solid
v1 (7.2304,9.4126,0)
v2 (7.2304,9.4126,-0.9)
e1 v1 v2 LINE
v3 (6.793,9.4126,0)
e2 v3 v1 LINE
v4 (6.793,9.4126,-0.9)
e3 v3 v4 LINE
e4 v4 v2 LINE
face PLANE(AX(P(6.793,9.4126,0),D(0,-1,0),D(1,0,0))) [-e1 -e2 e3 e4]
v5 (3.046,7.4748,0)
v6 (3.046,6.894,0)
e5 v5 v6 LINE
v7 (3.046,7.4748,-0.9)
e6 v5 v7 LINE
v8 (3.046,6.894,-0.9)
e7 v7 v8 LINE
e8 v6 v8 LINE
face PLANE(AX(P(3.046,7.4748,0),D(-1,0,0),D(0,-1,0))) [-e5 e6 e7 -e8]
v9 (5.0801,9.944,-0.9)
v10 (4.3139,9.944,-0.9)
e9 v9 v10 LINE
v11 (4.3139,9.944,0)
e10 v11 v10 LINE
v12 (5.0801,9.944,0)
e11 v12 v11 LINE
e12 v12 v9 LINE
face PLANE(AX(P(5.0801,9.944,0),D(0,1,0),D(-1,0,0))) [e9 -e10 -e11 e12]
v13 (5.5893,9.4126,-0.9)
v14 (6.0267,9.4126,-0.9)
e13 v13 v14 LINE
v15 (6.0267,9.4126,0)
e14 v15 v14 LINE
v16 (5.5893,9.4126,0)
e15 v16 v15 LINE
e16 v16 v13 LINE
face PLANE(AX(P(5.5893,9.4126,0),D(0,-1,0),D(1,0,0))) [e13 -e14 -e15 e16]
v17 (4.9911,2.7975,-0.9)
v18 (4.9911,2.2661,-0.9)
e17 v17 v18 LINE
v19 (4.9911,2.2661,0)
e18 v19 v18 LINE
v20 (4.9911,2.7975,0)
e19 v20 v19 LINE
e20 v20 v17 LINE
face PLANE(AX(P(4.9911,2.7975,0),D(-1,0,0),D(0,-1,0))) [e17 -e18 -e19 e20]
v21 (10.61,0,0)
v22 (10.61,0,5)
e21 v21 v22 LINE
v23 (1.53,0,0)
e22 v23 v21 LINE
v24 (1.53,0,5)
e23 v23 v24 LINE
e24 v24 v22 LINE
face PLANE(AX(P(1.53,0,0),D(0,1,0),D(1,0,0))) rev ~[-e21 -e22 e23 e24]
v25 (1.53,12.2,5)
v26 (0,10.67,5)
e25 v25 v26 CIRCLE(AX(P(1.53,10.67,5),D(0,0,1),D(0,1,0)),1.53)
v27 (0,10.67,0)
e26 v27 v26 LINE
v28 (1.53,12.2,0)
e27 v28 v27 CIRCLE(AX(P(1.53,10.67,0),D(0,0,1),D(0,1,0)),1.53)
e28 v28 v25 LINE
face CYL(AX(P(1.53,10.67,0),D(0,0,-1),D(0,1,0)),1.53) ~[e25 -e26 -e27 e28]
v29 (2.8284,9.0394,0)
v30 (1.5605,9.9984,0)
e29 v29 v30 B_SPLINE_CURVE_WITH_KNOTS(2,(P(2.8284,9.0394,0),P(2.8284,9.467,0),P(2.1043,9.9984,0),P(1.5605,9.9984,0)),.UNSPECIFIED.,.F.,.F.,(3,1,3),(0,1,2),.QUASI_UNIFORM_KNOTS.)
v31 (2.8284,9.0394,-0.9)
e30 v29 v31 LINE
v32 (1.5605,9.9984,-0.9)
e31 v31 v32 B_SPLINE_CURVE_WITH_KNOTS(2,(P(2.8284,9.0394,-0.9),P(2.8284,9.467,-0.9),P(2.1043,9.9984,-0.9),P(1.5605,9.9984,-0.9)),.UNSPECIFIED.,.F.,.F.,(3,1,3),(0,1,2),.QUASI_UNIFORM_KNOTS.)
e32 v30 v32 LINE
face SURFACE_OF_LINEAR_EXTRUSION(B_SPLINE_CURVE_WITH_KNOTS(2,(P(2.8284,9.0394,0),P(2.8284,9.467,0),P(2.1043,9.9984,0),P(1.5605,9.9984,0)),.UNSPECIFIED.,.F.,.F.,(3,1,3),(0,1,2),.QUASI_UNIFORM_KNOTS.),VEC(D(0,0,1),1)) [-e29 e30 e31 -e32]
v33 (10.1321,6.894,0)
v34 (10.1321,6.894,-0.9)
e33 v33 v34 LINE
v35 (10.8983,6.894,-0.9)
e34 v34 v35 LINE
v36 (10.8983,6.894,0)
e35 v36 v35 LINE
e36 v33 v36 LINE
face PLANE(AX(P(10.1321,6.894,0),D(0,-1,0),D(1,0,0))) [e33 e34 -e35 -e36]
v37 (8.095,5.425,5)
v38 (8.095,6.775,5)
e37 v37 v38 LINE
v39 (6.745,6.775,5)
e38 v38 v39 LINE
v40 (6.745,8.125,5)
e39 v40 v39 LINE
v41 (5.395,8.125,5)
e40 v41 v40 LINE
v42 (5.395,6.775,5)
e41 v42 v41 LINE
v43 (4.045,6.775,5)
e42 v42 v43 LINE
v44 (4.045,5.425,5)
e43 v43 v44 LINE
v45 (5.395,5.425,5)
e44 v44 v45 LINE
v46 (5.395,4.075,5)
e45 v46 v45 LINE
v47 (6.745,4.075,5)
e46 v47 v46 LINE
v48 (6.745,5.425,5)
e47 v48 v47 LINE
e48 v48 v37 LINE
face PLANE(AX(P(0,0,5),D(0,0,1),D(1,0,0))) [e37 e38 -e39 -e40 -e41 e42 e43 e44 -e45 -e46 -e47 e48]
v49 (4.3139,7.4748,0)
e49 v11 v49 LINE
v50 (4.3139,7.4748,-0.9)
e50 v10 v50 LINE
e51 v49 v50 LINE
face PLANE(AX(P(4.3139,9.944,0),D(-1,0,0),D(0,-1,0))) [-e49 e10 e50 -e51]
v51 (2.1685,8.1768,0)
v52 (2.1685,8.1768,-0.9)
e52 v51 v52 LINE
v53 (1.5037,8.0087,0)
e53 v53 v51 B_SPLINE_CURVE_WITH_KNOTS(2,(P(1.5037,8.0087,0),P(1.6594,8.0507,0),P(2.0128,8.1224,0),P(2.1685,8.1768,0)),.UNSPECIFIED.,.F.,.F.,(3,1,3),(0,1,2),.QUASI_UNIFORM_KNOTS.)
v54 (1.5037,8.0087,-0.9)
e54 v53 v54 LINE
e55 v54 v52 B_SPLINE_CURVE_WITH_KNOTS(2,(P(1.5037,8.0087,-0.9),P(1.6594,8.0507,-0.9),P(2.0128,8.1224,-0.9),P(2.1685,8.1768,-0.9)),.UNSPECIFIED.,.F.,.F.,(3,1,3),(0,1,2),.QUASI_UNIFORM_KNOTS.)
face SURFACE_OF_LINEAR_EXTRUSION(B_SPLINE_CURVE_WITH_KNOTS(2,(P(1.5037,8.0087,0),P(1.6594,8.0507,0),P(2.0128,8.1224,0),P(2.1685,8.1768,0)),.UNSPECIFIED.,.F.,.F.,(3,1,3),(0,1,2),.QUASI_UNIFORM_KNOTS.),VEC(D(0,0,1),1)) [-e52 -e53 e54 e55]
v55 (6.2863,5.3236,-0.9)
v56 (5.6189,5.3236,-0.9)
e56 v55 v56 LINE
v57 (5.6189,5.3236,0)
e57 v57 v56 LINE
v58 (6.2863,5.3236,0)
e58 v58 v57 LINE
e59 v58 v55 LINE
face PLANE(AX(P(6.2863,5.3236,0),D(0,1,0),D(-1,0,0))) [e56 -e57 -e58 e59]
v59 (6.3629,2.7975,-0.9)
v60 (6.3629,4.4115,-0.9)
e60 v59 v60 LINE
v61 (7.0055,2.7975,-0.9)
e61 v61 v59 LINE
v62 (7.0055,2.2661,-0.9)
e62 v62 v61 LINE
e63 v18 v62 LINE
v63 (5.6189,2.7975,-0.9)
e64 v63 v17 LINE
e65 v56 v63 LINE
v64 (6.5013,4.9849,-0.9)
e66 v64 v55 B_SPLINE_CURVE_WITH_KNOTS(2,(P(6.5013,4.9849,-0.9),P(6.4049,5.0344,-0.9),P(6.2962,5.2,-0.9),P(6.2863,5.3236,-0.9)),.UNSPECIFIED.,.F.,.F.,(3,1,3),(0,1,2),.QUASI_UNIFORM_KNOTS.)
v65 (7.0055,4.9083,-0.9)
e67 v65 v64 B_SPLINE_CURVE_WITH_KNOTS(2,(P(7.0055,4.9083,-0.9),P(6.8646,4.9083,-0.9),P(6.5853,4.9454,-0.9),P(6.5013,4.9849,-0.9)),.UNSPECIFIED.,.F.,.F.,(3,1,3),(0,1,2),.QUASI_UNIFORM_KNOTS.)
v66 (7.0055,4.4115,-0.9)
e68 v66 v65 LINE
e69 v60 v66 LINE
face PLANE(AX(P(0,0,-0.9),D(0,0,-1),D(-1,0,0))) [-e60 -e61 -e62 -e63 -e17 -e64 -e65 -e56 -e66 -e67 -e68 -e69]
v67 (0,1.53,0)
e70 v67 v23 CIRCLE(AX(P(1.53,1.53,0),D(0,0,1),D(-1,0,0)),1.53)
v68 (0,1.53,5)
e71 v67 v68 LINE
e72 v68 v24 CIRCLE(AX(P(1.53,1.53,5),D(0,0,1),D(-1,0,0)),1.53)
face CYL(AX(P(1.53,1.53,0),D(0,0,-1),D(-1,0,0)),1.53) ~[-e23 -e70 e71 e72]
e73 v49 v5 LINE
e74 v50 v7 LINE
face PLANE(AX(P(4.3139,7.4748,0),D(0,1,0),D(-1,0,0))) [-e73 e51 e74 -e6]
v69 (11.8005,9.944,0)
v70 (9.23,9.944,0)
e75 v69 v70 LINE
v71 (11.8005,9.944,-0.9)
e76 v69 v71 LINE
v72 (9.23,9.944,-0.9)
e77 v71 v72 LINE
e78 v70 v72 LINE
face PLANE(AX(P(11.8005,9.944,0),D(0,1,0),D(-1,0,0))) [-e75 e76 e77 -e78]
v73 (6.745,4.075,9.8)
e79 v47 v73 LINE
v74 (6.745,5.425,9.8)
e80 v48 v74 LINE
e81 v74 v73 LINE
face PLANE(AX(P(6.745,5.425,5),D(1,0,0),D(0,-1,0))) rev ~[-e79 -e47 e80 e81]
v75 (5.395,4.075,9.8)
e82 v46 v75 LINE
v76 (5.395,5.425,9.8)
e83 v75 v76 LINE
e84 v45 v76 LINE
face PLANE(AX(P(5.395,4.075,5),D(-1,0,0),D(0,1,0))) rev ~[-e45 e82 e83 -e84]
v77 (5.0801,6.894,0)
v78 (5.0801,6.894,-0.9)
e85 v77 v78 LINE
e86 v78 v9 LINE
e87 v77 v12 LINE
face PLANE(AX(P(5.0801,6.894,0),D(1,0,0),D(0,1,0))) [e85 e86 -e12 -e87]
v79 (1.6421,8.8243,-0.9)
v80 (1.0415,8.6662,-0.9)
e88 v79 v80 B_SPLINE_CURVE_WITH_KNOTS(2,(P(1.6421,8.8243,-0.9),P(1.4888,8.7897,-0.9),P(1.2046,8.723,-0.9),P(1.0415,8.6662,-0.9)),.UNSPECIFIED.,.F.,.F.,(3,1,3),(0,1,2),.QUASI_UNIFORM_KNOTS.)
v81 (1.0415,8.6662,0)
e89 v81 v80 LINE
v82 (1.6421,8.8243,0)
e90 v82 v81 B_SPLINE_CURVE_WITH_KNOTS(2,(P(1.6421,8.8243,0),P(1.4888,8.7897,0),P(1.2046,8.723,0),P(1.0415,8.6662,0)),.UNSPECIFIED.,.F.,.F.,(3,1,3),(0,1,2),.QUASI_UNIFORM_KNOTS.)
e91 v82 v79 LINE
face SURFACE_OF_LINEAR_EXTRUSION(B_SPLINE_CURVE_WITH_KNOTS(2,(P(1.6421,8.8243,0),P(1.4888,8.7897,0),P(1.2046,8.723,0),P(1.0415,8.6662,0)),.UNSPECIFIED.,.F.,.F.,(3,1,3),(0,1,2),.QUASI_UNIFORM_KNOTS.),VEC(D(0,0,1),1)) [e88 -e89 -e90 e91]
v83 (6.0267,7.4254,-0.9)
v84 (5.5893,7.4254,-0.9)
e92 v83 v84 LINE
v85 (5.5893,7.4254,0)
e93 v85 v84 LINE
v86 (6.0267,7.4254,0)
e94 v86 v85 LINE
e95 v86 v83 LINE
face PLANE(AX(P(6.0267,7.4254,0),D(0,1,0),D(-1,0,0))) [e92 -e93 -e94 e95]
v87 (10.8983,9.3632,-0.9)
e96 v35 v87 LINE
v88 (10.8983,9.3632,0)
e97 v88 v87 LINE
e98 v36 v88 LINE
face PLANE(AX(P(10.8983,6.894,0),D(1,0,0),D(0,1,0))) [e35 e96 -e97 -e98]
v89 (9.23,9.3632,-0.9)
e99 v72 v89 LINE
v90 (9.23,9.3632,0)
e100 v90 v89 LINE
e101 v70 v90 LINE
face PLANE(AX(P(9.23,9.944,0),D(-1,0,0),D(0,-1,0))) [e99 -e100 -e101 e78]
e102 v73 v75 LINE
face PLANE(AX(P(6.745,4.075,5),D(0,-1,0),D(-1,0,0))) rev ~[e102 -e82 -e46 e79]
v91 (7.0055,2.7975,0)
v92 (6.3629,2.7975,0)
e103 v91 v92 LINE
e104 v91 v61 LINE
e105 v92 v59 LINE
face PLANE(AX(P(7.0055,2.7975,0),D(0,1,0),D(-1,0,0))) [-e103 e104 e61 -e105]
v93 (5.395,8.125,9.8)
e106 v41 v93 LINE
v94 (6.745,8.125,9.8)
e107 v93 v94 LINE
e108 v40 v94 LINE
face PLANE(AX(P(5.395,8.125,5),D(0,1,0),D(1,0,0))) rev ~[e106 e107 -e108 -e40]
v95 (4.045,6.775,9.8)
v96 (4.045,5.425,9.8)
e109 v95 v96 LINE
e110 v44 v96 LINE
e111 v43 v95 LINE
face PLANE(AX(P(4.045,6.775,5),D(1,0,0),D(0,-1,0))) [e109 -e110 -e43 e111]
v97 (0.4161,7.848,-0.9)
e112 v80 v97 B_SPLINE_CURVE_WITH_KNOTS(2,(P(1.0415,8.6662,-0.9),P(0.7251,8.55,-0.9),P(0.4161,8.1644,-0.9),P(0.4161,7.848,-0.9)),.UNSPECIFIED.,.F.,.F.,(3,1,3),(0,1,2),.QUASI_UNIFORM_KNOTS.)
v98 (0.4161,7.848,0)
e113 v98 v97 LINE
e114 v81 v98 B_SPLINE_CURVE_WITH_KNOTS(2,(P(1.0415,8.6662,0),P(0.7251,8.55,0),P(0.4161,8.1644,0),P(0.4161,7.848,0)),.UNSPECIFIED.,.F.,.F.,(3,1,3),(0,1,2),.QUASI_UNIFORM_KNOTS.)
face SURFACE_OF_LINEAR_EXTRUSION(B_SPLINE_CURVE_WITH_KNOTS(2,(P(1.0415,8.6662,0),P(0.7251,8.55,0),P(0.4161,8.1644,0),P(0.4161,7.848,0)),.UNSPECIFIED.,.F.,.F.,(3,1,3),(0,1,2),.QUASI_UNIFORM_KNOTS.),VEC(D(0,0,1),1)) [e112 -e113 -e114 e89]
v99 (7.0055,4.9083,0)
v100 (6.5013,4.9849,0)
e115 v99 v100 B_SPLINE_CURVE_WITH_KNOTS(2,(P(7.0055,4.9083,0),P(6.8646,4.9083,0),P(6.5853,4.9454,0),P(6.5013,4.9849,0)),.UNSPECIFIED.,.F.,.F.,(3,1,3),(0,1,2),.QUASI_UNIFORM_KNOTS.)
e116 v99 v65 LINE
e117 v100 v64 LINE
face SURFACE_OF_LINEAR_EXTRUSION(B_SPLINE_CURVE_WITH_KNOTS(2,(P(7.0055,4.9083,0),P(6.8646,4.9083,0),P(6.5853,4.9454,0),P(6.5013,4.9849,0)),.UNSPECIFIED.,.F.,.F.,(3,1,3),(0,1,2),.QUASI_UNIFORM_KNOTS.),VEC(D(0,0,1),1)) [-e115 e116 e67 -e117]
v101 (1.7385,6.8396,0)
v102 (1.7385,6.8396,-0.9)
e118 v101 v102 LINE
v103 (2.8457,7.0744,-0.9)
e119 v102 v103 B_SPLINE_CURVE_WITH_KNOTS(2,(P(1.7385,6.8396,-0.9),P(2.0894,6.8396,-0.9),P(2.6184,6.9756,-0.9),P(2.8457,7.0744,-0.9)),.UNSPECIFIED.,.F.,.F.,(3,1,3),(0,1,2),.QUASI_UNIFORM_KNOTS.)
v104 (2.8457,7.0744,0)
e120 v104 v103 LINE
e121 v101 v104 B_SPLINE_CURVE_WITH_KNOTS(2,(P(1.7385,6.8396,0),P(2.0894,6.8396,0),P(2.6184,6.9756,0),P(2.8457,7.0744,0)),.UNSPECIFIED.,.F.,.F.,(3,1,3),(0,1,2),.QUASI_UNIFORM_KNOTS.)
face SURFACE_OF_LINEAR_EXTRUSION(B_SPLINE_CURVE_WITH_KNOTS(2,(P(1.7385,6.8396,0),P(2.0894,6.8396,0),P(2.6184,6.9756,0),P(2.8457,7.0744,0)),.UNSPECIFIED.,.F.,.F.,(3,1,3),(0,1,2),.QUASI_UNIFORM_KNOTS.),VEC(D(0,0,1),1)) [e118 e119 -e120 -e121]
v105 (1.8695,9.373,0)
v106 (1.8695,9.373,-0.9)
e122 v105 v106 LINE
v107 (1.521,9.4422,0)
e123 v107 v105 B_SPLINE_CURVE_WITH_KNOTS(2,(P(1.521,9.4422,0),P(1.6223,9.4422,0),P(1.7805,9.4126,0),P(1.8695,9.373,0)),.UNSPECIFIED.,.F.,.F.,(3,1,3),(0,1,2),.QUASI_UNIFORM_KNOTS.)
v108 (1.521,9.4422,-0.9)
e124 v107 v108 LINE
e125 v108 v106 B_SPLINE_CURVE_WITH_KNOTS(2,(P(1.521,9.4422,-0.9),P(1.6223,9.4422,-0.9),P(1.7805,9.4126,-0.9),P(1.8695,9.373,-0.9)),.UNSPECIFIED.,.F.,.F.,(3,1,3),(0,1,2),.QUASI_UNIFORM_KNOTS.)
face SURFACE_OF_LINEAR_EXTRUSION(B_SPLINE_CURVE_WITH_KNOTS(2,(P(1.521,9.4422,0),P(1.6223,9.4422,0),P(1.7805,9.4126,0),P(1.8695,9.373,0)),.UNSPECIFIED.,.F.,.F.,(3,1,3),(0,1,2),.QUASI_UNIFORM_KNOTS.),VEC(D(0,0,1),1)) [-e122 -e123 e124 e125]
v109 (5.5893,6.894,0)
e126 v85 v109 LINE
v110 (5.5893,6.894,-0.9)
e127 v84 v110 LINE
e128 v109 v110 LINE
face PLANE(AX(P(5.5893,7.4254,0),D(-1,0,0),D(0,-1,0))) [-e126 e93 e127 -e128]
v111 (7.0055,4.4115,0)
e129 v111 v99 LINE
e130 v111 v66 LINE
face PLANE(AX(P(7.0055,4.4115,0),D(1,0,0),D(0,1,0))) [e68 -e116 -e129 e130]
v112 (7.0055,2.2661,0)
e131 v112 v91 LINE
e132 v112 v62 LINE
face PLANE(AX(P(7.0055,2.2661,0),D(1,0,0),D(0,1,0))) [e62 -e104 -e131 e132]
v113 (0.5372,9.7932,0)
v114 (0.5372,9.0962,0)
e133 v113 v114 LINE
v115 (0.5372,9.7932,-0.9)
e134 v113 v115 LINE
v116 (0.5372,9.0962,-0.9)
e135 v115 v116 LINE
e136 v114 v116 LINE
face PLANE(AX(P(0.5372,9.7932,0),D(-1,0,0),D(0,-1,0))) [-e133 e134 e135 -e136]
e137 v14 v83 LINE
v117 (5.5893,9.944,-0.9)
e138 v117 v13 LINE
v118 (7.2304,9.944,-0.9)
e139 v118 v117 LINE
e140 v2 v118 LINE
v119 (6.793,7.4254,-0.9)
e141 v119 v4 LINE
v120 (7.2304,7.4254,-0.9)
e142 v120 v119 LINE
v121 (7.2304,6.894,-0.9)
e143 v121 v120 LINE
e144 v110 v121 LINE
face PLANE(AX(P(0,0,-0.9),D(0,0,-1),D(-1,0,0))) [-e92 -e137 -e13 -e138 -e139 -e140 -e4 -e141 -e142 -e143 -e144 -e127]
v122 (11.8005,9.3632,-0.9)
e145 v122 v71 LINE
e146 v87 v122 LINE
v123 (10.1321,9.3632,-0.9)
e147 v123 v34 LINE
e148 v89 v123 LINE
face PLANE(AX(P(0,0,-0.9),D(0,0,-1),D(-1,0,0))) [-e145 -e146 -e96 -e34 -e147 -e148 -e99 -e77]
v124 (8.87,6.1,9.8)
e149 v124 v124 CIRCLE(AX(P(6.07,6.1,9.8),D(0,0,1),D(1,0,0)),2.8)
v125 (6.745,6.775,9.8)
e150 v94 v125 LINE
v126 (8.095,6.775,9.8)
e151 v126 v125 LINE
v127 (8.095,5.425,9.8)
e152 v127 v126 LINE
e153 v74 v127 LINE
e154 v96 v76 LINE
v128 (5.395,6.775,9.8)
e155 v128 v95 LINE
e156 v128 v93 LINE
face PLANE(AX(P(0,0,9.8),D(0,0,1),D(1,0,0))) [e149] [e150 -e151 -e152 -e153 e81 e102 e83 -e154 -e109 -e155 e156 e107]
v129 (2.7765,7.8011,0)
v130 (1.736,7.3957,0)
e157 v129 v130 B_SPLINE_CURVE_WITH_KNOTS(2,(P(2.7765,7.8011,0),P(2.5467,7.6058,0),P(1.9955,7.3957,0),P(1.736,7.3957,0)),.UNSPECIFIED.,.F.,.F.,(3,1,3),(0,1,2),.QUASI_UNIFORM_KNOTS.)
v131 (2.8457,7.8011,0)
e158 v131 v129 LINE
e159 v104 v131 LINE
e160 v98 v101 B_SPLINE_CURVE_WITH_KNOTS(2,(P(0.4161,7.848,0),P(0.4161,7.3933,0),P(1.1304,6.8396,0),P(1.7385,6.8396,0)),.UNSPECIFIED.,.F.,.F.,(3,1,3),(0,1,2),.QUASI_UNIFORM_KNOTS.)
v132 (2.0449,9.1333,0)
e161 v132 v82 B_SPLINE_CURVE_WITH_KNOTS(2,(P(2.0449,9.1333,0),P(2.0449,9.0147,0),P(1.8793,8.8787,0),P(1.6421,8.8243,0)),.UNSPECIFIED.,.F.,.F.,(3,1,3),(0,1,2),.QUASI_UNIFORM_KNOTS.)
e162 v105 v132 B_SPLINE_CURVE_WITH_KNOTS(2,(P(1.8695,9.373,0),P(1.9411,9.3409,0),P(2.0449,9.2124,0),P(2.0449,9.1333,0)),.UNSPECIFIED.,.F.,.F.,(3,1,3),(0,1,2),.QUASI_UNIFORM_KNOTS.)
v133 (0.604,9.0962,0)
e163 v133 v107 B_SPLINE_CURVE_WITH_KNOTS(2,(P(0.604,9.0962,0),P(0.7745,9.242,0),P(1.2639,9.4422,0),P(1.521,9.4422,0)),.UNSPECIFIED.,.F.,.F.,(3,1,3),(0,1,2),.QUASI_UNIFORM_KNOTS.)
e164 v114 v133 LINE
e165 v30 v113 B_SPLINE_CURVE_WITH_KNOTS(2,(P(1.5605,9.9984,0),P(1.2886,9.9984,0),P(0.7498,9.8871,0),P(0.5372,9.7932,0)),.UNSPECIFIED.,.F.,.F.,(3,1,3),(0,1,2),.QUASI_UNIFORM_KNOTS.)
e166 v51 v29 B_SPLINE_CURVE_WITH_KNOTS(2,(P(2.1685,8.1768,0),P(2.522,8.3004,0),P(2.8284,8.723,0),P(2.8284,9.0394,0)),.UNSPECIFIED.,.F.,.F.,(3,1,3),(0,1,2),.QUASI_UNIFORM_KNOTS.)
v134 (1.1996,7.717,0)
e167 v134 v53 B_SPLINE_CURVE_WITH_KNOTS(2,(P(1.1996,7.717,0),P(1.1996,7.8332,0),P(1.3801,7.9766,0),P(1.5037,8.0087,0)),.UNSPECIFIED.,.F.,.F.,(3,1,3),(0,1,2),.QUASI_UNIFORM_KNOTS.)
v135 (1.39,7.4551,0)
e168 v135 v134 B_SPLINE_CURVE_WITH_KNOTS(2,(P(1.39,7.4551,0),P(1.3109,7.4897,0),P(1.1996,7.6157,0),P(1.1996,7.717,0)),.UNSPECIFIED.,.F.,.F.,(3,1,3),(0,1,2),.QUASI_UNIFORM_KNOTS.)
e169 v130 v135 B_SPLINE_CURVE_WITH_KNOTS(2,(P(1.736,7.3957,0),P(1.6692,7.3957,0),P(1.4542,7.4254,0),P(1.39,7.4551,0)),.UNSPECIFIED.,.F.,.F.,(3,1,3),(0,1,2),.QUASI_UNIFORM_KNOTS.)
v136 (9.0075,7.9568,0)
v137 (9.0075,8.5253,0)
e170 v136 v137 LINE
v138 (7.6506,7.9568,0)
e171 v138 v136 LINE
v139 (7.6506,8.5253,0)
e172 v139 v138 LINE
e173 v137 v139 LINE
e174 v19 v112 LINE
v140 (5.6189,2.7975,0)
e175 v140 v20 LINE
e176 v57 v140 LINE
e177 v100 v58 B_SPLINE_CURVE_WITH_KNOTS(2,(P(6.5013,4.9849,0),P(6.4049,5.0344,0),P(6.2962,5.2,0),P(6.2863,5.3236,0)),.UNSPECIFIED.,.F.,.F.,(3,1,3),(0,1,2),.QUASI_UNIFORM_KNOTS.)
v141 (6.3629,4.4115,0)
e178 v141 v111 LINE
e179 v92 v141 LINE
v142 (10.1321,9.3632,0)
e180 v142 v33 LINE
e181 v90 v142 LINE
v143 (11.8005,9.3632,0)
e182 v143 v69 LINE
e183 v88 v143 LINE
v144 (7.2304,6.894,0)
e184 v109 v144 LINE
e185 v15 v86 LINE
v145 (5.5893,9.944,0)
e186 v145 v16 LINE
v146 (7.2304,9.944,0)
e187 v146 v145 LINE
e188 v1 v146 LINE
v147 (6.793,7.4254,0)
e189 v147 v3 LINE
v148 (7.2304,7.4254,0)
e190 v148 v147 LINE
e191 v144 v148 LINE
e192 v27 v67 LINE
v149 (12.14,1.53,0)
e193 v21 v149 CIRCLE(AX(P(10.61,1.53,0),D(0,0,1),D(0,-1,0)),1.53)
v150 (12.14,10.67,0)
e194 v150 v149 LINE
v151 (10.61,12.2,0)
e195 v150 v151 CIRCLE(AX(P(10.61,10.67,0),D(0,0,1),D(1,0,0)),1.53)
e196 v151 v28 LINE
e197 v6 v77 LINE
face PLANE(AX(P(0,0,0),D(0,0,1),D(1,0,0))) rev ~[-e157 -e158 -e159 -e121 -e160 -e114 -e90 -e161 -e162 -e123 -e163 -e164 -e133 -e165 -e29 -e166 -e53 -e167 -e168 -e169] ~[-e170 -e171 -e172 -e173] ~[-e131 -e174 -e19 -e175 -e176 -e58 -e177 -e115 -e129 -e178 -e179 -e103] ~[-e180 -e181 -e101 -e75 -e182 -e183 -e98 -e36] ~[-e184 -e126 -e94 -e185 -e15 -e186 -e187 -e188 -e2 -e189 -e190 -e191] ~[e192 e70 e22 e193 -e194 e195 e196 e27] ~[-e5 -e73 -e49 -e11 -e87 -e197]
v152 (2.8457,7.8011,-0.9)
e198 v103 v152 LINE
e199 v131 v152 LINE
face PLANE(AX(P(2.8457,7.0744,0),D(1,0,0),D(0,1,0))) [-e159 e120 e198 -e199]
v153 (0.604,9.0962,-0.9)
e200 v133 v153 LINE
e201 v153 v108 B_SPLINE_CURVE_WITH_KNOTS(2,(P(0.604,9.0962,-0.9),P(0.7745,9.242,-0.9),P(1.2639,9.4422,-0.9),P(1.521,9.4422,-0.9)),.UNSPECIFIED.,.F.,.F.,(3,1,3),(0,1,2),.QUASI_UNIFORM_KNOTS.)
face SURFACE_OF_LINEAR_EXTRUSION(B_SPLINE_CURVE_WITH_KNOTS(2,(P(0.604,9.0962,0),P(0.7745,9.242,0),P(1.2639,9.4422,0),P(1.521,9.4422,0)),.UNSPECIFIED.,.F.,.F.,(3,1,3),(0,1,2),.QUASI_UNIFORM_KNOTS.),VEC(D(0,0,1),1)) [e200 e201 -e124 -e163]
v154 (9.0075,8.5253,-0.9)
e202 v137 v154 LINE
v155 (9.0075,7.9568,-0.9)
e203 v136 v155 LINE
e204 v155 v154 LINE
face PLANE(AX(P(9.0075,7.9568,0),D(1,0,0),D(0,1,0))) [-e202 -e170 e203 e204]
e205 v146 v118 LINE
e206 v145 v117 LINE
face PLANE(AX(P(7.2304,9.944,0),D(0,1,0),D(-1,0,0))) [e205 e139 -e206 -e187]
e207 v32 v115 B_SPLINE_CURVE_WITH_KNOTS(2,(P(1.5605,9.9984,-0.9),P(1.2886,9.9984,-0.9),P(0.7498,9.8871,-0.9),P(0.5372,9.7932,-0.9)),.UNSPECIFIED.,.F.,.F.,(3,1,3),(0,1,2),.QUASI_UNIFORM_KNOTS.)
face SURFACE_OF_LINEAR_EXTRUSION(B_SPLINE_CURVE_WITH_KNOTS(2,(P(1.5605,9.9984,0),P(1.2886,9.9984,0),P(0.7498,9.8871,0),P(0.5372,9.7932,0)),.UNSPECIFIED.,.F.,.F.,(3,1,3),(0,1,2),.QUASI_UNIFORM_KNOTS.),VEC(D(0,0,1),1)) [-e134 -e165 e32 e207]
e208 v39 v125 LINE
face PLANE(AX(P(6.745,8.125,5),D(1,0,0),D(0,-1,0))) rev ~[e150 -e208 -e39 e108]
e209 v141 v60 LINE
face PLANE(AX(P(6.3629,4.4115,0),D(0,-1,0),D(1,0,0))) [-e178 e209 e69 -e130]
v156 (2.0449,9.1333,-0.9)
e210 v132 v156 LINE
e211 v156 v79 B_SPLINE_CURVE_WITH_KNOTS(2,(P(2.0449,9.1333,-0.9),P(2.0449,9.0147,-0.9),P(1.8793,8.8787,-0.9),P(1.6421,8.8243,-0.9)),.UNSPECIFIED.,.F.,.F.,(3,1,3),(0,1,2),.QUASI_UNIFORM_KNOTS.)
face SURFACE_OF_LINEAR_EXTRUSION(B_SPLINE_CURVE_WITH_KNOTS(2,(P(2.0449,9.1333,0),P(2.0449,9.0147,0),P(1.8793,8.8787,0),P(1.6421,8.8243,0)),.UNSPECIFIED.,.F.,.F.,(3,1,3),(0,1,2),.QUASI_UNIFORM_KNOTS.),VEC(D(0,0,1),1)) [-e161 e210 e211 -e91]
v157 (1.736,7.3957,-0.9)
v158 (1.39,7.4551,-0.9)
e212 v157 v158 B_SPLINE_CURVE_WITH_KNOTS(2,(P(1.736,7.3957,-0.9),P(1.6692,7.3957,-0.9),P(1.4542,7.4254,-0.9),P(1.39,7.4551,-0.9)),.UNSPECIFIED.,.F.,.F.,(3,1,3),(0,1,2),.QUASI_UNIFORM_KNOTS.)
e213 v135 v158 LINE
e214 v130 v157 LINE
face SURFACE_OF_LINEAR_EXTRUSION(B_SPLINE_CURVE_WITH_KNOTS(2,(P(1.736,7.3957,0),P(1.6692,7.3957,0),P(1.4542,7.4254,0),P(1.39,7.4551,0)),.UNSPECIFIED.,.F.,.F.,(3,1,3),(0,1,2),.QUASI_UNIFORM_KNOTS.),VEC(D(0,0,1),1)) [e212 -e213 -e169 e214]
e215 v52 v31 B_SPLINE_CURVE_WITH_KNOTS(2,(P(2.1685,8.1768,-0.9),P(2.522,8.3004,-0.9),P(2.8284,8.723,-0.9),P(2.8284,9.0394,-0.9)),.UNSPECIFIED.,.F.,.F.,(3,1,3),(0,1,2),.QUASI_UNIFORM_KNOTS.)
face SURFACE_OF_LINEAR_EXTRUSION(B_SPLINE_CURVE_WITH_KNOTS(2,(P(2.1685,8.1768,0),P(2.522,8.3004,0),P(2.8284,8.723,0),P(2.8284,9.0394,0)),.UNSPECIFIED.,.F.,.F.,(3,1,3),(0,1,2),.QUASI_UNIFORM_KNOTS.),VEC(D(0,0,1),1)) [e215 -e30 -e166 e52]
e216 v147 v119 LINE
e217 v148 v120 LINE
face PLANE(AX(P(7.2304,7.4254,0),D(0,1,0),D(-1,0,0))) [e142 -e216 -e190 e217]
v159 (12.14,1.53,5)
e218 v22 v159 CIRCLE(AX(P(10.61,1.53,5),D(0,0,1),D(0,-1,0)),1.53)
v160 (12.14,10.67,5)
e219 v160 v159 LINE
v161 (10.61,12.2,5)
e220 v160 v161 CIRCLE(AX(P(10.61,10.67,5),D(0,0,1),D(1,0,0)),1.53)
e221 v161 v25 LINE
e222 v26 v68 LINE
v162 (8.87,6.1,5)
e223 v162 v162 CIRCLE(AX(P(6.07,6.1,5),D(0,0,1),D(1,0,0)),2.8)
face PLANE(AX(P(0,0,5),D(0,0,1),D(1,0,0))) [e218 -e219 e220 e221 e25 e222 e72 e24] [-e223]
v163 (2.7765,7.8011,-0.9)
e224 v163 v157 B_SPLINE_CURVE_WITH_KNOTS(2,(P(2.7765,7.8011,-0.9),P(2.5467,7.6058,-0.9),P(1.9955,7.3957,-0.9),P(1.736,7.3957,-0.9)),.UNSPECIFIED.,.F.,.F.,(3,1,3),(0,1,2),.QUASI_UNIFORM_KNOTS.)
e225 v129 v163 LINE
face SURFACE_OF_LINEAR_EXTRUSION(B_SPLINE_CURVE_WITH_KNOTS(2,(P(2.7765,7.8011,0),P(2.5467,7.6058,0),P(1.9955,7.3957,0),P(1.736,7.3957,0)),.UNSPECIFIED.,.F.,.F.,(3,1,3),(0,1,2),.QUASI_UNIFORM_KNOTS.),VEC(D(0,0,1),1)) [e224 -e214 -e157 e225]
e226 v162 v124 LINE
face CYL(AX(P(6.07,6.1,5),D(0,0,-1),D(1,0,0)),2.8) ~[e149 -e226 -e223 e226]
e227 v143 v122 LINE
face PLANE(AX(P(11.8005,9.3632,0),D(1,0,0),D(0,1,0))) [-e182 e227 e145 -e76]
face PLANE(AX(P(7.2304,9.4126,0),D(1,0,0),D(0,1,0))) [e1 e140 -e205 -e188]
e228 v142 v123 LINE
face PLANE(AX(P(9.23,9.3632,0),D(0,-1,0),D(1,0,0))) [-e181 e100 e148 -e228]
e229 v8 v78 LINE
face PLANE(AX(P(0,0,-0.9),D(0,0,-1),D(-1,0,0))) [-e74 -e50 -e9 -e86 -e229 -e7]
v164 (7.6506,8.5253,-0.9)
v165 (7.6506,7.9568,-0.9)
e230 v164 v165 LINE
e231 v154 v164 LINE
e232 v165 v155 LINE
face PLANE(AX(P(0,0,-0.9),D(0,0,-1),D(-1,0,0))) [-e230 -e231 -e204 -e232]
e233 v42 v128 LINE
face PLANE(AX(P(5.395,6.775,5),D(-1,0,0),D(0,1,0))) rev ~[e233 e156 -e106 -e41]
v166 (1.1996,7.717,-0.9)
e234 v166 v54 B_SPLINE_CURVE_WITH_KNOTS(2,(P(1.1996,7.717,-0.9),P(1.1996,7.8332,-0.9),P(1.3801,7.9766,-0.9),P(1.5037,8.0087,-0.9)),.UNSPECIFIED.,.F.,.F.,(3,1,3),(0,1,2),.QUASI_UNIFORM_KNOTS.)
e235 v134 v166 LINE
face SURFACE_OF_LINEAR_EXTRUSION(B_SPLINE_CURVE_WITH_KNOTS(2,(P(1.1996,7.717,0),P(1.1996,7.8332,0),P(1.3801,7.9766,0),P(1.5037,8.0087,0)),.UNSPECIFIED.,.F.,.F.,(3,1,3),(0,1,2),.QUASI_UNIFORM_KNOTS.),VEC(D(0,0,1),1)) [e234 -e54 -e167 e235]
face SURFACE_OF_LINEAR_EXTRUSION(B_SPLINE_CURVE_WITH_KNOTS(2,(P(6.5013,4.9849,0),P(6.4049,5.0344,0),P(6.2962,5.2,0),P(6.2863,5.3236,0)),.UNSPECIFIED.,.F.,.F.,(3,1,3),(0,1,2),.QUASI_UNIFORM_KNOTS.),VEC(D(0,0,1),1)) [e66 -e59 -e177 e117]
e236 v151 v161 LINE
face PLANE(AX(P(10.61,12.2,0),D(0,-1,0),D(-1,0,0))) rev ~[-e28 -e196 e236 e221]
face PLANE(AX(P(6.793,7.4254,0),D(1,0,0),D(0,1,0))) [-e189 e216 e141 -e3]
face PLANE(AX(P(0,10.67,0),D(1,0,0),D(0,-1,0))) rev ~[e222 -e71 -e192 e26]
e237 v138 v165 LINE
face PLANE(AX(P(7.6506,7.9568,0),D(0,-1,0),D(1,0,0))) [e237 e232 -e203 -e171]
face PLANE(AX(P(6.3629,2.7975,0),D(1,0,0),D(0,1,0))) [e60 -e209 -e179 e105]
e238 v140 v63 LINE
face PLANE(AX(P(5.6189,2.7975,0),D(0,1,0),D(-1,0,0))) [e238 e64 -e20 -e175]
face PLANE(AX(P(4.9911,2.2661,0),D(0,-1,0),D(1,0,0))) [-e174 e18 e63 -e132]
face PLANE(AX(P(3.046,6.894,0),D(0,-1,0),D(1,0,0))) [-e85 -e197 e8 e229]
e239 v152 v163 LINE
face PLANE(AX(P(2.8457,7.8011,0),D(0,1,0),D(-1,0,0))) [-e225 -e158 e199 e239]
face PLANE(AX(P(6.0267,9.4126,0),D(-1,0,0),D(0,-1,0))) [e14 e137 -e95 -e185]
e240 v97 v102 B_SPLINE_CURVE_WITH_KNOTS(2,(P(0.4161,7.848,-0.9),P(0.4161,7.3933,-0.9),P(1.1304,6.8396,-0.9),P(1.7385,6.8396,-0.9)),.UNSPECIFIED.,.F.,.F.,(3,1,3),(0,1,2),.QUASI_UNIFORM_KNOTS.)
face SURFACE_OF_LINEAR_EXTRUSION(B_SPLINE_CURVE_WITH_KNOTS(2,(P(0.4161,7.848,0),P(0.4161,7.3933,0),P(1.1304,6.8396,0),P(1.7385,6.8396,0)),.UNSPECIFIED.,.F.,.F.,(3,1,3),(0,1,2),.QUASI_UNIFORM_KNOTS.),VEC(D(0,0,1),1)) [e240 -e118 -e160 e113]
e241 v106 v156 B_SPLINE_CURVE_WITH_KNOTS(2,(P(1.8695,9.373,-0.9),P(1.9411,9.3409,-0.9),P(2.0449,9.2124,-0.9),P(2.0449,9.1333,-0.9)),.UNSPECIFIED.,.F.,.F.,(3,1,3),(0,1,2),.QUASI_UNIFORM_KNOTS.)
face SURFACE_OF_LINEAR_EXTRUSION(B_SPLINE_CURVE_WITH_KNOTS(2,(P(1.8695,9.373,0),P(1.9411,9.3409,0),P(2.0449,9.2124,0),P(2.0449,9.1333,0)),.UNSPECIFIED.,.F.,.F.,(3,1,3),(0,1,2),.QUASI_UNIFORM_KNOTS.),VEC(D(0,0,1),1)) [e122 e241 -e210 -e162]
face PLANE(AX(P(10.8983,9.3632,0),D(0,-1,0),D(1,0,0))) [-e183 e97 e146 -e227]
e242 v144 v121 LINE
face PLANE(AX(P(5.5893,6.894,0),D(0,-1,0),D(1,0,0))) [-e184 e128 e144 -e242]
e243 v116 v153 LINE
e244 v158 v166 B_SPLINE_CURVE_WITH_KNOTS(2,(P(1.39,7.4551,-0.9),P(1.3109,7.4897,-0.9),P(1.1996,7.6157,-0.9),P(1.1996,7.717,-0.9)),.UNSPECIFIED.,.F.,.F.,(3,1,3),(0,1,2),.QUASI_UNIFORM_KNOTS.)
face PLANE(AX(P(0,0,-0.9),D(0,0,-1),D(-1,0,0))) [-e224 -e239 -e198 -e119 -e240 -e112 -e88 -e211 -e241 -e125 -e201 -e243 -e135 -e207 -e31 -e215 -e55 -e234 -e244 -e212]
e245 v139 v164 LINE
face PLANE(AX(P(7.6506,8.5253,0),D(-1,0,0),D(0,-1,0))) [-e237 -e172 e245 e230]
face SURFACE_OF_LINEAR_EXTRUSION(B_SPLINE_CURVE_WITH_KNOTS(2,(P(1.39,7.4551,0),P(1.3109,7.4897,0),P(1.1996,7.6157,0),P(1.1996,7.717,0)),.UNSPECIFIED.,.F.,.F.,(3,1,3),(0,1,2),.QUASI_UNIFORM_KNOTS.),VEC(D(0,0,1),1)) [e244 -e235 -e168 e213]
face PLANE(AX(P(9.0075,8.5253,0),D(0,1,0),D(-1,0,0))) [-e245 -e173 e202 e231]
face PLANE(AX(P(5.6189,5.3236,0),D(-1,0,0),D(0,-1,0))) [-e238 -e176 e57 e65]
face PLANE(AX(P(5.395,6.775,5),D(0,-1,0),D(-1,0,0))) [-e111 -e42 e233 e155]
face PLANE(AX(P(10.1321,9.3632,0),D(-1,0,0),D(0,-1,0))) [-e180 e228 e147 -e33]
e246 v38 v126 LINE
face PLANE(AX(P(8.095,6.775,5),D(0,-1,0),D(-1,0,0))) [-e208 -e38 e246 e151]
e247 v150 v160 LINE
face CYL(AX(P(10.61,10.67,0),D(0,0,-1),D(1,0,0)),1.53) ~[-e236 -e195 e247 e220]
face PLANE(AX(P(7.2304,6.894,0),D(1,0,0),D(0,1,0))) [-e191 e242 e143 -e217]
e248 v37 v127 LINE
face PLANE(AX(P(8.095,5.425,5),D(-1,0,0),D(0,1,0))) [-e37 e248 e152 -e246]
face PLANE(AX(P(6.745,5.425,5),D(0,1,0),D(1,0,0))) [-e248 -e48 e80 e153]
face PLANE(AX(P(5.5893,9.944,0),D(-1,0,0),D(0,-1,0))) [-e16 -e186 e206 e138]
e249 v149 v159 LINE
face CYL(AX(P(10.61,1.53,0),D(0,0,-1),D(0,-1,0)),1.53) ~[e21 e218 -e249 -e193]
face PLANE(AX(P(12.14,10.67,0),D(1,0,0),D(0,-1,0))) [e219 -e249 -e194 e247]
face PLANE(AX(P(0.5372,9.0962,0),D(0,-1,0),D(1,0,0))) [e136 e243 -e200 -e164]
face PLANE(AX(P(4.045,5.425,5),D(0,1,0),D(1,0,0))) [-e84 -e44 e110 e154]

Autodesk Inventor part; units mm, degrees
ref_plane "YZ Plane" through (0, 0, 0) normal (1, 0, 0) x (0, 1, 0)
ref_plane "XZ Plane" through (0, 0, 0) normal (0, 1, 0) x (-1, 0, 0)
sketch "Sketch1" plane through (0, 0, 0) normal (0, 0, 1) x (1, 0, 0)
  line L0 (14.6962, 12.74) -> (14.6962, 0) construction
  line L1 (10.61, 12.2) -> (1.53, 12.2)
  arc A0 (1.53, 12.2) -> (0, 10.67) centre (1.53, 10.67) ccw
  line L2 (0, 10.67) -> (0, 1.53)
  arc A1 (0, 1.53) -> (1.53, 0) centre (1.53, 1.53) ccw
  line L3 (1.53, 0) -> (10.61, 0)
  arc A2 (10.61, 0) -> (12.14, 1.53) centre (10.61, 1.53) ccw
  arc A3 (12.14, 10.67) -> (10.61, 12.2) centre (10.61, 10.67) ccw
  line L4 (12.14, 10.67) -> (12.14, 1.53)
  point P0 (0, 0)
  point P1 (0, 0)
  dimension "d10" = 12.74
ref_plane "Work Plane1" through (0, 0, 5) normal (0, 0, 1) x (1, 0, 0)
sketch "Sketch2" plane through (0, 0, 5) normal (0, 0, 1) x (1, 0, 0)
  line L0 (10.88, 12.74) -> (1.8, 12.74) projected
  line L1 (10.88, 12.74) -> (1.8, 12.74) projected
  arc A0 (1.8, 12.74) -> (0, 10.94) centre (1.8, 10.94) ccw projected
  line L2 (0, 10.94) -> (0, 1.8) projected
  arc A1 (0, 1.8) -> (1.8, 0) centre (1.8, 1.8) ccw projected
  line L3 (1.8, 0) -> (10.88, 0) projected
  arc A2 (10.88, 0) -> (12.68, 1.8) centre (10.88, 1.8) ccw projected
  line L4 (12.68, 1.8) -> (12.68, 10.94) projected
  arc A3 (12.68, 10.94) -> (10.88, 12.74) centre (10.88, 10.94) ccw projected
  circle A4 centre (6.34, 6.37) radius 2.8
  line L5 (5.665, 8.395) -> (7.015, 8.395)
  line L6 (7.015, 4.345) -> (5.665, 4.345)
  line L7 (5.665, 4.345) -> (7.015, 8.395) construction
  line L8 (5.665, 8.395) -> (7.015, 4.345) construction
  line L9 (8.365, 5.695) -> (8.365, 7.045)
  line L10 (4.315, 7.045) -> (4.315, 5.695)
  line L11 (4.315, 5.695) -> (8.365, 7.045) construction
  line L12 (8.365, 5.695) -> (4.315, 7.045) construction
  line L13 (4.315, 5.695) -> (5.665, 5.695)
  line L14 (7.015, 5.695) -> (8.365, 5.695)
  line L15 (5.665, 4.345) -> (5.665, 5.695)
  line L16 (5.665, 7.045) -> (5.665, 8.395)
  line L17 (8.365, 7.045) -> (7.015, 7.045)
  line L18 (5.665, 7.045) -> (4.315, 7.045)
  line L19 (7.015, 8.395) -> (7.015, 7.045)
  line L20 (7.015, 5.695) -> (7.015, 4.345)
  point P0 (0, 0)
  dimension "d3" = 5.6
  dimension "d4" = 4.05
  dimension "d5" = 1.35
  dimension "d6" = 4.05
  dimension "d7" = 1.35
extrude "Extrusion3" add sketch "Sketch1" along normal blind 5
sketch "Sketch3" plane through (0, 0, 5) normal (0, 0, 1) x (1, 0, 0)
  line L0 (10.61, 12.47) -> (1.53, 12.47)
  line L1 (10.61, 12.47) -> (1.53, 12.47)
  arc A0 (1.53, 12.47) -> (-0.27, 10.67) centre (1.53, 10.67) ccw
  line L2 (-0.27, 10.67) -> (-0.27, 1.53)
  arc A1 (-0.27, 1.53) -> (1.53, -0.27) centre (1.53, 1.53) ccw
  line L3 (1.53, -0.27) -> (10.61, -0.27)
  arc A2 (10.61, -0.27) -> (12.41, 1.53) centre (10.61, 1.53) ccw
  line L4 (12.41, 1.53) -> (12.41, 10.67)
  arc A3 (12.41, 10.67) -> (10.61, 12.47) centre (10.61, 10.67) ccw
  circle A4 centre (6.07, 6.1) radius 2.8
  line L5 (5.395, 8.125) -> (6.745, 8.125)
  line L6 (6.745, 4.075) -> (5.395, 4.075)
  line L7 (5.395, 4.075) -> (6.745, 8.125) construction
  line L8 (5.395, 8.125) -> (6.745, 4.075) construction
  line L9 (8.095, 5.425) -> (8.095, 6.775)
  line L10 (4.045, 6.775) -> (4.045, 5.425)
  line L11 (4.045, 5.425) -> (8.095, 6.775) construction
  line L12 (8.095, 5.425) -> (4.045, 6.775) construction
  line L13 (4.045, 5.425) -> (5.395, 5.425)
  line L14 (6.745, 5.425) -> (8.095, 5.425)
  line L15 (5.395, 4.075) -> (5.395, 5.425)
  line L16 (5.395, 6.775) -> (5.395, 8.125)
  line L17 (8.095, 6.775) -> (6.745, 6.775)
  line L18 (5.395, 6.775) -> (4.045, 6.775)
  line L19 (6.745, 8.125) -> (6.745, 6.775)
  line L20 (6.745, 5.425) -> (6.745, 4.075)
  line L21 (10.61, 12.2) -> (1.53, 12.2) projected
  line L22 (0, 10.67) -> (0, 1.53) projected
  point P0 (0, 0)
  point P1 (-0.27, -0.27)
  point P2 (6.07, 12.2)
  point P3 (0, 6.1)
  point P4 (6.07, 6.1)
  dimension "d14" = 5.6
  dimension "d15" = 4.05
  dimension "d16" = 1.35
  dimension "d17" = 4.05
  dimension "d18" = 1.35
extrude "Extrusion4" add sketch "Sketch3" along normal blind 4.8 contours A4
sketch "Sketch4" plane through (0, 0, 0) normal (0, 0, -1) x (-1, 0, 0)
  line L0 (-1.53, 0) -> (-10.61, 0) projected
  line L1 (-7.4059, 5.3236) -> (-4.7341, 5.3236) construction
  line L2 (-4.7341, 5.3236) -> (-4.7341, 2.2661) construction
  line L3 (-4.7341, 2.2661) -> (-7.4059, 2.2661) construction
  line L4 (-7.4059, 2.2661) -> (-7.4059, 5.3236) construction
  line L5 (-11.8005, 9.9984) -> (-0.3395, 9.9984) construction
  line L6 (-0.3395, 9.9984) -> (-0.3395, 6.8396) construction
  line L7 (-0.3395, 6.8396) -> (-11.8005, 6.8396) construction
  line L8 (-11.8005, 6.8396) -> (-11.8005, 9.9984) construction
  line L9 (-10.8983, 6.894) -> (-10.8983, 9.3632)
  line L10 (-10.8983, 9.3632) -> (-11.8005, 9.3632)
  line L11 (-11.8005, 9.3632) -> (-11.8005, 9.944)
  line L12 (-11.8005, 9.944) -> (-9.23, 9.944)
  line L13 (-9.23, 9.944) -> (-9.23, 9.3632)
  line L14 (-9.23, 9.3632) -> (-10.1321, 9.3632)
  line L15 (-10.1321, 9.3632) -> (-10.1321, 6.894)
  line L16 (-10.1321, 6.894) -> (-10.8983, 6.894)
  line L17 (-7.6506, 7.9568) -> (-9.0075, 7.9568)
  line L18 (-9.0075, 7.9568) -> (-9.0075, 8.5253)
  line L19 (-9.0075, 8.5253) -> (-7.6506, 8.5253)
  line L20 (-7.6506, 8.5253) -> (-7.6506, 7.9568)
  line L21 (-5.5893, 6.894) -> (-7.2304, 6.894)
  line L22 (-7.2304, 6.894) -> (-7.2304, 7.4254)
  line L23 (-7.2304, 7.4254) -> (-6.793, 7.4254)
  line L24 (-6.793, 7.4254) -> (-6.793, 9.4126)
  line L25 (-6.793, 9.4126) -> (-7.2304, 9.4126)
  line L26 (-7.2304, 9.4126) -> (-7.2304, 9.944)
  line L27 (-7.2304, 9.944) -> (-5.5893, 9.944)
  line L28 (-5.5893, 9.944) -> (-5.5893, 9.4126)
  line L29 (-5.5893, 9.4126) -> (-6.0267, 9.4126)
  line L30 (-6.0267, 9.4126) -> (-6.0267, 7.4254)
  line L31 (-6.0267, 7.4254) -> (-5.5893, 7.4254)
  line L32 (-5.5893, 7.4254) -> (-5.5893, 6.894)
  line L33 (-3.046, 6.894) -> (-5.0801, 6.894)
  line L34 (-5.0801, 6.894) -> (-5.0801, 9.944)
  line L35 (-5.0801, 9.944) -> (-4.3139, 9.944)
  line L36 (-4.3139, 9.944) -> (-4.3139, 7.4748)
  line L37 (-4.3139, 7.4748) -> (-3.046, 7.4748)
  line L38 (-3.046, 7.4748) -> (-3.046, 6.894)
  spline S0 degree 2 poles (-1.7385, 6.8396) (-2.0894, 6.8396) (-2.6184, 6.9756) (-2.8457, 7.0744) knots 0 0 0 1 2 2 2
  line L39 (-2.8457, 7.0744) -> (-2.8457, 7.8011)
  line L40 (-2.8457, 7.8011) -> (-2.7765, 7.8011)
  spline S1 degree 2 poles (-2.7765, 7.8011) (-2.5467, 7.6058) (-1.9955, 7.3957) (-1.736, 7.3957) knots 0 0 0 1 2 2 2
  spline S2 degree 2 poles (-1.736, 7.3957) (-1.6692, 7.3957) (-1.4542, 7.4254) (-1.39, 7.4551) knots 0 0 0 1 2 2 2
  spline S3 degree 2 poles (-1.39, 7.4551) (-1.3109, 7.4897) (-1.1996, 7.6157) (-1.1996, 7.717) knots 0 0 0 1 2 2 2
  spline S4 degree 2 poles (-1.1996, 7.717) (-1.1996, 7.8332) (-1.3801, 7.9766) (-1.5037, 8.0087) knots 0 0 0 1 2 2 2
  spline S5 degree 2 poles (-1.5037, 8.0087) (-1.6594, 8.0507) (-2.0128, 8.1224) (-2.1685, 8.1768) knots 0 0 0 1 2 2 2
  spline S6 degree 2 poles (-2.1685, 8.1768) (-2.522, 8.3004) (-2.8284, 8.723) (-2.8284, 9.0394) knots 0 0 0 1 2 2 2
  spline S7 degree 2 poles (-2.8284, 9.0394) (-2.8284, 9.467) (-2.1043, 9.9984) (-1.5605, 9.9984) knots 0 0 0 1 2 2 2
  spline S8 degree 2 poles (-1.5605, 9.9984) (-1.2886, 9.9984) (-0.7498, 9.8871) (-0.5372, 9.7932) knots 0 0 0 1 2 2 2
  line L41 (-0.5372, 9.7932) -> (-0.5372, 9.0962)
  line L42 (-0.5372, 9.0962) -> (-0.604, 9.0962)
  spline S9 degree 2 poles (-0.604, 9.0962) (-0.7745, 9.242) (-1.2639, 9.4422) (-1.521, 9.4422) knots 0 0 0 1 2 2 2
  spline S10 degree 2 poles (-1.521, 9.4422) (-1.6223, 9.4422) (-1.7805, 9.4126) (-1.8695, 9.373) knots 0 0 0 1 2 2 2
  spline S11 degree 2 poles (-1.8695, 9.373) (-1.9411, 9.3409) (-2.0449, 9.2124) (-2.0449, 9.1333) knots 0 0 0 1 2 2 2
  spline S12 degree 2 poles (-2.0449, 9.1333) (-2.0449, 9.0147) (-1.8793, 8.8787) (-1.6421, 8.8243) knots 0 0 0 1 2 2 2
  spline S13 degree 2 poles (-1.6421, 8.8243) (-1.4888, 8.7897) (-1.2046, 8.723) (-1.0415, 8.6662) knots 0 0 0 1 2 2 2
  spline S14 degree 2 poles (-1.0415, 8.6662) (-0.7251, 8.55) (-0.4161, 8.1644) (-0.4161, 7.848) knots 0 0 0 1 2 2 2
  spline S15 degree 2 poles (-0.4161, 7.848) (-0.4161, 7.3933) (-1.1304, 6.8396) (-1.7385, 6.8396) knots 0 0 0 1 2 2 2
  line L43 (-4.9911, 2.2661) -> (-7.0055, 2.2661)
  line L44 (-7.0055, 2.2661) -> (-7.0055, 2.7975)
  line L45 (-7.0055, 2.7975) -> (-6.3629, 2.7975)
  line L46 (-6.3629, 2.7975) -> (-6.3629, 4.4115)
  line L47 (-6.3629, 4.4115) -> (-7.0055, 4.4115)
  line L48 (-7.0055, 4.4115) -> (-7.0055, 4.9083)
  spline S16 degree 2 poles (-7.0055, 4.9083) (-6.8646, 4.9083) (-6.5853, 4.9454) (-6.5013, 4.9849) knots 0 0 0 1 2 2 2
  spline S17 degree 2 poles (-6.5013, 4.9849) (-6.4049, 5.0344) (-6.2962, 5.2) (-6.2863, 5.3236) knots 0 0 0 1 2 2 2
  line L49 (-6.2863, 5.3236) -> (-5.6189, 5.3236)
  line L50 (-5.6189, 5.3236) -> (-5.6189, 2.7975)
  line L51 (-5.6189, 2.7975) -> (-4.9911, 2.7975)
  line L52 (-4.9911, 2.7975) -> (-4.9911, 2.2661)
  point P0 (0, 0)
  point P1 (-6.07, 0)
  point P2 (-6.07, 2.2661)
  point P3 (-6.07, 2.2661)
  point P4 (-6.07, 6.8396)
  point P5 (-6.07, 6.8396)
extrude "Extrusion5" add sketch "Sketch4" along normal blind 0.9
properties part number "IPC TILS 1 key"
